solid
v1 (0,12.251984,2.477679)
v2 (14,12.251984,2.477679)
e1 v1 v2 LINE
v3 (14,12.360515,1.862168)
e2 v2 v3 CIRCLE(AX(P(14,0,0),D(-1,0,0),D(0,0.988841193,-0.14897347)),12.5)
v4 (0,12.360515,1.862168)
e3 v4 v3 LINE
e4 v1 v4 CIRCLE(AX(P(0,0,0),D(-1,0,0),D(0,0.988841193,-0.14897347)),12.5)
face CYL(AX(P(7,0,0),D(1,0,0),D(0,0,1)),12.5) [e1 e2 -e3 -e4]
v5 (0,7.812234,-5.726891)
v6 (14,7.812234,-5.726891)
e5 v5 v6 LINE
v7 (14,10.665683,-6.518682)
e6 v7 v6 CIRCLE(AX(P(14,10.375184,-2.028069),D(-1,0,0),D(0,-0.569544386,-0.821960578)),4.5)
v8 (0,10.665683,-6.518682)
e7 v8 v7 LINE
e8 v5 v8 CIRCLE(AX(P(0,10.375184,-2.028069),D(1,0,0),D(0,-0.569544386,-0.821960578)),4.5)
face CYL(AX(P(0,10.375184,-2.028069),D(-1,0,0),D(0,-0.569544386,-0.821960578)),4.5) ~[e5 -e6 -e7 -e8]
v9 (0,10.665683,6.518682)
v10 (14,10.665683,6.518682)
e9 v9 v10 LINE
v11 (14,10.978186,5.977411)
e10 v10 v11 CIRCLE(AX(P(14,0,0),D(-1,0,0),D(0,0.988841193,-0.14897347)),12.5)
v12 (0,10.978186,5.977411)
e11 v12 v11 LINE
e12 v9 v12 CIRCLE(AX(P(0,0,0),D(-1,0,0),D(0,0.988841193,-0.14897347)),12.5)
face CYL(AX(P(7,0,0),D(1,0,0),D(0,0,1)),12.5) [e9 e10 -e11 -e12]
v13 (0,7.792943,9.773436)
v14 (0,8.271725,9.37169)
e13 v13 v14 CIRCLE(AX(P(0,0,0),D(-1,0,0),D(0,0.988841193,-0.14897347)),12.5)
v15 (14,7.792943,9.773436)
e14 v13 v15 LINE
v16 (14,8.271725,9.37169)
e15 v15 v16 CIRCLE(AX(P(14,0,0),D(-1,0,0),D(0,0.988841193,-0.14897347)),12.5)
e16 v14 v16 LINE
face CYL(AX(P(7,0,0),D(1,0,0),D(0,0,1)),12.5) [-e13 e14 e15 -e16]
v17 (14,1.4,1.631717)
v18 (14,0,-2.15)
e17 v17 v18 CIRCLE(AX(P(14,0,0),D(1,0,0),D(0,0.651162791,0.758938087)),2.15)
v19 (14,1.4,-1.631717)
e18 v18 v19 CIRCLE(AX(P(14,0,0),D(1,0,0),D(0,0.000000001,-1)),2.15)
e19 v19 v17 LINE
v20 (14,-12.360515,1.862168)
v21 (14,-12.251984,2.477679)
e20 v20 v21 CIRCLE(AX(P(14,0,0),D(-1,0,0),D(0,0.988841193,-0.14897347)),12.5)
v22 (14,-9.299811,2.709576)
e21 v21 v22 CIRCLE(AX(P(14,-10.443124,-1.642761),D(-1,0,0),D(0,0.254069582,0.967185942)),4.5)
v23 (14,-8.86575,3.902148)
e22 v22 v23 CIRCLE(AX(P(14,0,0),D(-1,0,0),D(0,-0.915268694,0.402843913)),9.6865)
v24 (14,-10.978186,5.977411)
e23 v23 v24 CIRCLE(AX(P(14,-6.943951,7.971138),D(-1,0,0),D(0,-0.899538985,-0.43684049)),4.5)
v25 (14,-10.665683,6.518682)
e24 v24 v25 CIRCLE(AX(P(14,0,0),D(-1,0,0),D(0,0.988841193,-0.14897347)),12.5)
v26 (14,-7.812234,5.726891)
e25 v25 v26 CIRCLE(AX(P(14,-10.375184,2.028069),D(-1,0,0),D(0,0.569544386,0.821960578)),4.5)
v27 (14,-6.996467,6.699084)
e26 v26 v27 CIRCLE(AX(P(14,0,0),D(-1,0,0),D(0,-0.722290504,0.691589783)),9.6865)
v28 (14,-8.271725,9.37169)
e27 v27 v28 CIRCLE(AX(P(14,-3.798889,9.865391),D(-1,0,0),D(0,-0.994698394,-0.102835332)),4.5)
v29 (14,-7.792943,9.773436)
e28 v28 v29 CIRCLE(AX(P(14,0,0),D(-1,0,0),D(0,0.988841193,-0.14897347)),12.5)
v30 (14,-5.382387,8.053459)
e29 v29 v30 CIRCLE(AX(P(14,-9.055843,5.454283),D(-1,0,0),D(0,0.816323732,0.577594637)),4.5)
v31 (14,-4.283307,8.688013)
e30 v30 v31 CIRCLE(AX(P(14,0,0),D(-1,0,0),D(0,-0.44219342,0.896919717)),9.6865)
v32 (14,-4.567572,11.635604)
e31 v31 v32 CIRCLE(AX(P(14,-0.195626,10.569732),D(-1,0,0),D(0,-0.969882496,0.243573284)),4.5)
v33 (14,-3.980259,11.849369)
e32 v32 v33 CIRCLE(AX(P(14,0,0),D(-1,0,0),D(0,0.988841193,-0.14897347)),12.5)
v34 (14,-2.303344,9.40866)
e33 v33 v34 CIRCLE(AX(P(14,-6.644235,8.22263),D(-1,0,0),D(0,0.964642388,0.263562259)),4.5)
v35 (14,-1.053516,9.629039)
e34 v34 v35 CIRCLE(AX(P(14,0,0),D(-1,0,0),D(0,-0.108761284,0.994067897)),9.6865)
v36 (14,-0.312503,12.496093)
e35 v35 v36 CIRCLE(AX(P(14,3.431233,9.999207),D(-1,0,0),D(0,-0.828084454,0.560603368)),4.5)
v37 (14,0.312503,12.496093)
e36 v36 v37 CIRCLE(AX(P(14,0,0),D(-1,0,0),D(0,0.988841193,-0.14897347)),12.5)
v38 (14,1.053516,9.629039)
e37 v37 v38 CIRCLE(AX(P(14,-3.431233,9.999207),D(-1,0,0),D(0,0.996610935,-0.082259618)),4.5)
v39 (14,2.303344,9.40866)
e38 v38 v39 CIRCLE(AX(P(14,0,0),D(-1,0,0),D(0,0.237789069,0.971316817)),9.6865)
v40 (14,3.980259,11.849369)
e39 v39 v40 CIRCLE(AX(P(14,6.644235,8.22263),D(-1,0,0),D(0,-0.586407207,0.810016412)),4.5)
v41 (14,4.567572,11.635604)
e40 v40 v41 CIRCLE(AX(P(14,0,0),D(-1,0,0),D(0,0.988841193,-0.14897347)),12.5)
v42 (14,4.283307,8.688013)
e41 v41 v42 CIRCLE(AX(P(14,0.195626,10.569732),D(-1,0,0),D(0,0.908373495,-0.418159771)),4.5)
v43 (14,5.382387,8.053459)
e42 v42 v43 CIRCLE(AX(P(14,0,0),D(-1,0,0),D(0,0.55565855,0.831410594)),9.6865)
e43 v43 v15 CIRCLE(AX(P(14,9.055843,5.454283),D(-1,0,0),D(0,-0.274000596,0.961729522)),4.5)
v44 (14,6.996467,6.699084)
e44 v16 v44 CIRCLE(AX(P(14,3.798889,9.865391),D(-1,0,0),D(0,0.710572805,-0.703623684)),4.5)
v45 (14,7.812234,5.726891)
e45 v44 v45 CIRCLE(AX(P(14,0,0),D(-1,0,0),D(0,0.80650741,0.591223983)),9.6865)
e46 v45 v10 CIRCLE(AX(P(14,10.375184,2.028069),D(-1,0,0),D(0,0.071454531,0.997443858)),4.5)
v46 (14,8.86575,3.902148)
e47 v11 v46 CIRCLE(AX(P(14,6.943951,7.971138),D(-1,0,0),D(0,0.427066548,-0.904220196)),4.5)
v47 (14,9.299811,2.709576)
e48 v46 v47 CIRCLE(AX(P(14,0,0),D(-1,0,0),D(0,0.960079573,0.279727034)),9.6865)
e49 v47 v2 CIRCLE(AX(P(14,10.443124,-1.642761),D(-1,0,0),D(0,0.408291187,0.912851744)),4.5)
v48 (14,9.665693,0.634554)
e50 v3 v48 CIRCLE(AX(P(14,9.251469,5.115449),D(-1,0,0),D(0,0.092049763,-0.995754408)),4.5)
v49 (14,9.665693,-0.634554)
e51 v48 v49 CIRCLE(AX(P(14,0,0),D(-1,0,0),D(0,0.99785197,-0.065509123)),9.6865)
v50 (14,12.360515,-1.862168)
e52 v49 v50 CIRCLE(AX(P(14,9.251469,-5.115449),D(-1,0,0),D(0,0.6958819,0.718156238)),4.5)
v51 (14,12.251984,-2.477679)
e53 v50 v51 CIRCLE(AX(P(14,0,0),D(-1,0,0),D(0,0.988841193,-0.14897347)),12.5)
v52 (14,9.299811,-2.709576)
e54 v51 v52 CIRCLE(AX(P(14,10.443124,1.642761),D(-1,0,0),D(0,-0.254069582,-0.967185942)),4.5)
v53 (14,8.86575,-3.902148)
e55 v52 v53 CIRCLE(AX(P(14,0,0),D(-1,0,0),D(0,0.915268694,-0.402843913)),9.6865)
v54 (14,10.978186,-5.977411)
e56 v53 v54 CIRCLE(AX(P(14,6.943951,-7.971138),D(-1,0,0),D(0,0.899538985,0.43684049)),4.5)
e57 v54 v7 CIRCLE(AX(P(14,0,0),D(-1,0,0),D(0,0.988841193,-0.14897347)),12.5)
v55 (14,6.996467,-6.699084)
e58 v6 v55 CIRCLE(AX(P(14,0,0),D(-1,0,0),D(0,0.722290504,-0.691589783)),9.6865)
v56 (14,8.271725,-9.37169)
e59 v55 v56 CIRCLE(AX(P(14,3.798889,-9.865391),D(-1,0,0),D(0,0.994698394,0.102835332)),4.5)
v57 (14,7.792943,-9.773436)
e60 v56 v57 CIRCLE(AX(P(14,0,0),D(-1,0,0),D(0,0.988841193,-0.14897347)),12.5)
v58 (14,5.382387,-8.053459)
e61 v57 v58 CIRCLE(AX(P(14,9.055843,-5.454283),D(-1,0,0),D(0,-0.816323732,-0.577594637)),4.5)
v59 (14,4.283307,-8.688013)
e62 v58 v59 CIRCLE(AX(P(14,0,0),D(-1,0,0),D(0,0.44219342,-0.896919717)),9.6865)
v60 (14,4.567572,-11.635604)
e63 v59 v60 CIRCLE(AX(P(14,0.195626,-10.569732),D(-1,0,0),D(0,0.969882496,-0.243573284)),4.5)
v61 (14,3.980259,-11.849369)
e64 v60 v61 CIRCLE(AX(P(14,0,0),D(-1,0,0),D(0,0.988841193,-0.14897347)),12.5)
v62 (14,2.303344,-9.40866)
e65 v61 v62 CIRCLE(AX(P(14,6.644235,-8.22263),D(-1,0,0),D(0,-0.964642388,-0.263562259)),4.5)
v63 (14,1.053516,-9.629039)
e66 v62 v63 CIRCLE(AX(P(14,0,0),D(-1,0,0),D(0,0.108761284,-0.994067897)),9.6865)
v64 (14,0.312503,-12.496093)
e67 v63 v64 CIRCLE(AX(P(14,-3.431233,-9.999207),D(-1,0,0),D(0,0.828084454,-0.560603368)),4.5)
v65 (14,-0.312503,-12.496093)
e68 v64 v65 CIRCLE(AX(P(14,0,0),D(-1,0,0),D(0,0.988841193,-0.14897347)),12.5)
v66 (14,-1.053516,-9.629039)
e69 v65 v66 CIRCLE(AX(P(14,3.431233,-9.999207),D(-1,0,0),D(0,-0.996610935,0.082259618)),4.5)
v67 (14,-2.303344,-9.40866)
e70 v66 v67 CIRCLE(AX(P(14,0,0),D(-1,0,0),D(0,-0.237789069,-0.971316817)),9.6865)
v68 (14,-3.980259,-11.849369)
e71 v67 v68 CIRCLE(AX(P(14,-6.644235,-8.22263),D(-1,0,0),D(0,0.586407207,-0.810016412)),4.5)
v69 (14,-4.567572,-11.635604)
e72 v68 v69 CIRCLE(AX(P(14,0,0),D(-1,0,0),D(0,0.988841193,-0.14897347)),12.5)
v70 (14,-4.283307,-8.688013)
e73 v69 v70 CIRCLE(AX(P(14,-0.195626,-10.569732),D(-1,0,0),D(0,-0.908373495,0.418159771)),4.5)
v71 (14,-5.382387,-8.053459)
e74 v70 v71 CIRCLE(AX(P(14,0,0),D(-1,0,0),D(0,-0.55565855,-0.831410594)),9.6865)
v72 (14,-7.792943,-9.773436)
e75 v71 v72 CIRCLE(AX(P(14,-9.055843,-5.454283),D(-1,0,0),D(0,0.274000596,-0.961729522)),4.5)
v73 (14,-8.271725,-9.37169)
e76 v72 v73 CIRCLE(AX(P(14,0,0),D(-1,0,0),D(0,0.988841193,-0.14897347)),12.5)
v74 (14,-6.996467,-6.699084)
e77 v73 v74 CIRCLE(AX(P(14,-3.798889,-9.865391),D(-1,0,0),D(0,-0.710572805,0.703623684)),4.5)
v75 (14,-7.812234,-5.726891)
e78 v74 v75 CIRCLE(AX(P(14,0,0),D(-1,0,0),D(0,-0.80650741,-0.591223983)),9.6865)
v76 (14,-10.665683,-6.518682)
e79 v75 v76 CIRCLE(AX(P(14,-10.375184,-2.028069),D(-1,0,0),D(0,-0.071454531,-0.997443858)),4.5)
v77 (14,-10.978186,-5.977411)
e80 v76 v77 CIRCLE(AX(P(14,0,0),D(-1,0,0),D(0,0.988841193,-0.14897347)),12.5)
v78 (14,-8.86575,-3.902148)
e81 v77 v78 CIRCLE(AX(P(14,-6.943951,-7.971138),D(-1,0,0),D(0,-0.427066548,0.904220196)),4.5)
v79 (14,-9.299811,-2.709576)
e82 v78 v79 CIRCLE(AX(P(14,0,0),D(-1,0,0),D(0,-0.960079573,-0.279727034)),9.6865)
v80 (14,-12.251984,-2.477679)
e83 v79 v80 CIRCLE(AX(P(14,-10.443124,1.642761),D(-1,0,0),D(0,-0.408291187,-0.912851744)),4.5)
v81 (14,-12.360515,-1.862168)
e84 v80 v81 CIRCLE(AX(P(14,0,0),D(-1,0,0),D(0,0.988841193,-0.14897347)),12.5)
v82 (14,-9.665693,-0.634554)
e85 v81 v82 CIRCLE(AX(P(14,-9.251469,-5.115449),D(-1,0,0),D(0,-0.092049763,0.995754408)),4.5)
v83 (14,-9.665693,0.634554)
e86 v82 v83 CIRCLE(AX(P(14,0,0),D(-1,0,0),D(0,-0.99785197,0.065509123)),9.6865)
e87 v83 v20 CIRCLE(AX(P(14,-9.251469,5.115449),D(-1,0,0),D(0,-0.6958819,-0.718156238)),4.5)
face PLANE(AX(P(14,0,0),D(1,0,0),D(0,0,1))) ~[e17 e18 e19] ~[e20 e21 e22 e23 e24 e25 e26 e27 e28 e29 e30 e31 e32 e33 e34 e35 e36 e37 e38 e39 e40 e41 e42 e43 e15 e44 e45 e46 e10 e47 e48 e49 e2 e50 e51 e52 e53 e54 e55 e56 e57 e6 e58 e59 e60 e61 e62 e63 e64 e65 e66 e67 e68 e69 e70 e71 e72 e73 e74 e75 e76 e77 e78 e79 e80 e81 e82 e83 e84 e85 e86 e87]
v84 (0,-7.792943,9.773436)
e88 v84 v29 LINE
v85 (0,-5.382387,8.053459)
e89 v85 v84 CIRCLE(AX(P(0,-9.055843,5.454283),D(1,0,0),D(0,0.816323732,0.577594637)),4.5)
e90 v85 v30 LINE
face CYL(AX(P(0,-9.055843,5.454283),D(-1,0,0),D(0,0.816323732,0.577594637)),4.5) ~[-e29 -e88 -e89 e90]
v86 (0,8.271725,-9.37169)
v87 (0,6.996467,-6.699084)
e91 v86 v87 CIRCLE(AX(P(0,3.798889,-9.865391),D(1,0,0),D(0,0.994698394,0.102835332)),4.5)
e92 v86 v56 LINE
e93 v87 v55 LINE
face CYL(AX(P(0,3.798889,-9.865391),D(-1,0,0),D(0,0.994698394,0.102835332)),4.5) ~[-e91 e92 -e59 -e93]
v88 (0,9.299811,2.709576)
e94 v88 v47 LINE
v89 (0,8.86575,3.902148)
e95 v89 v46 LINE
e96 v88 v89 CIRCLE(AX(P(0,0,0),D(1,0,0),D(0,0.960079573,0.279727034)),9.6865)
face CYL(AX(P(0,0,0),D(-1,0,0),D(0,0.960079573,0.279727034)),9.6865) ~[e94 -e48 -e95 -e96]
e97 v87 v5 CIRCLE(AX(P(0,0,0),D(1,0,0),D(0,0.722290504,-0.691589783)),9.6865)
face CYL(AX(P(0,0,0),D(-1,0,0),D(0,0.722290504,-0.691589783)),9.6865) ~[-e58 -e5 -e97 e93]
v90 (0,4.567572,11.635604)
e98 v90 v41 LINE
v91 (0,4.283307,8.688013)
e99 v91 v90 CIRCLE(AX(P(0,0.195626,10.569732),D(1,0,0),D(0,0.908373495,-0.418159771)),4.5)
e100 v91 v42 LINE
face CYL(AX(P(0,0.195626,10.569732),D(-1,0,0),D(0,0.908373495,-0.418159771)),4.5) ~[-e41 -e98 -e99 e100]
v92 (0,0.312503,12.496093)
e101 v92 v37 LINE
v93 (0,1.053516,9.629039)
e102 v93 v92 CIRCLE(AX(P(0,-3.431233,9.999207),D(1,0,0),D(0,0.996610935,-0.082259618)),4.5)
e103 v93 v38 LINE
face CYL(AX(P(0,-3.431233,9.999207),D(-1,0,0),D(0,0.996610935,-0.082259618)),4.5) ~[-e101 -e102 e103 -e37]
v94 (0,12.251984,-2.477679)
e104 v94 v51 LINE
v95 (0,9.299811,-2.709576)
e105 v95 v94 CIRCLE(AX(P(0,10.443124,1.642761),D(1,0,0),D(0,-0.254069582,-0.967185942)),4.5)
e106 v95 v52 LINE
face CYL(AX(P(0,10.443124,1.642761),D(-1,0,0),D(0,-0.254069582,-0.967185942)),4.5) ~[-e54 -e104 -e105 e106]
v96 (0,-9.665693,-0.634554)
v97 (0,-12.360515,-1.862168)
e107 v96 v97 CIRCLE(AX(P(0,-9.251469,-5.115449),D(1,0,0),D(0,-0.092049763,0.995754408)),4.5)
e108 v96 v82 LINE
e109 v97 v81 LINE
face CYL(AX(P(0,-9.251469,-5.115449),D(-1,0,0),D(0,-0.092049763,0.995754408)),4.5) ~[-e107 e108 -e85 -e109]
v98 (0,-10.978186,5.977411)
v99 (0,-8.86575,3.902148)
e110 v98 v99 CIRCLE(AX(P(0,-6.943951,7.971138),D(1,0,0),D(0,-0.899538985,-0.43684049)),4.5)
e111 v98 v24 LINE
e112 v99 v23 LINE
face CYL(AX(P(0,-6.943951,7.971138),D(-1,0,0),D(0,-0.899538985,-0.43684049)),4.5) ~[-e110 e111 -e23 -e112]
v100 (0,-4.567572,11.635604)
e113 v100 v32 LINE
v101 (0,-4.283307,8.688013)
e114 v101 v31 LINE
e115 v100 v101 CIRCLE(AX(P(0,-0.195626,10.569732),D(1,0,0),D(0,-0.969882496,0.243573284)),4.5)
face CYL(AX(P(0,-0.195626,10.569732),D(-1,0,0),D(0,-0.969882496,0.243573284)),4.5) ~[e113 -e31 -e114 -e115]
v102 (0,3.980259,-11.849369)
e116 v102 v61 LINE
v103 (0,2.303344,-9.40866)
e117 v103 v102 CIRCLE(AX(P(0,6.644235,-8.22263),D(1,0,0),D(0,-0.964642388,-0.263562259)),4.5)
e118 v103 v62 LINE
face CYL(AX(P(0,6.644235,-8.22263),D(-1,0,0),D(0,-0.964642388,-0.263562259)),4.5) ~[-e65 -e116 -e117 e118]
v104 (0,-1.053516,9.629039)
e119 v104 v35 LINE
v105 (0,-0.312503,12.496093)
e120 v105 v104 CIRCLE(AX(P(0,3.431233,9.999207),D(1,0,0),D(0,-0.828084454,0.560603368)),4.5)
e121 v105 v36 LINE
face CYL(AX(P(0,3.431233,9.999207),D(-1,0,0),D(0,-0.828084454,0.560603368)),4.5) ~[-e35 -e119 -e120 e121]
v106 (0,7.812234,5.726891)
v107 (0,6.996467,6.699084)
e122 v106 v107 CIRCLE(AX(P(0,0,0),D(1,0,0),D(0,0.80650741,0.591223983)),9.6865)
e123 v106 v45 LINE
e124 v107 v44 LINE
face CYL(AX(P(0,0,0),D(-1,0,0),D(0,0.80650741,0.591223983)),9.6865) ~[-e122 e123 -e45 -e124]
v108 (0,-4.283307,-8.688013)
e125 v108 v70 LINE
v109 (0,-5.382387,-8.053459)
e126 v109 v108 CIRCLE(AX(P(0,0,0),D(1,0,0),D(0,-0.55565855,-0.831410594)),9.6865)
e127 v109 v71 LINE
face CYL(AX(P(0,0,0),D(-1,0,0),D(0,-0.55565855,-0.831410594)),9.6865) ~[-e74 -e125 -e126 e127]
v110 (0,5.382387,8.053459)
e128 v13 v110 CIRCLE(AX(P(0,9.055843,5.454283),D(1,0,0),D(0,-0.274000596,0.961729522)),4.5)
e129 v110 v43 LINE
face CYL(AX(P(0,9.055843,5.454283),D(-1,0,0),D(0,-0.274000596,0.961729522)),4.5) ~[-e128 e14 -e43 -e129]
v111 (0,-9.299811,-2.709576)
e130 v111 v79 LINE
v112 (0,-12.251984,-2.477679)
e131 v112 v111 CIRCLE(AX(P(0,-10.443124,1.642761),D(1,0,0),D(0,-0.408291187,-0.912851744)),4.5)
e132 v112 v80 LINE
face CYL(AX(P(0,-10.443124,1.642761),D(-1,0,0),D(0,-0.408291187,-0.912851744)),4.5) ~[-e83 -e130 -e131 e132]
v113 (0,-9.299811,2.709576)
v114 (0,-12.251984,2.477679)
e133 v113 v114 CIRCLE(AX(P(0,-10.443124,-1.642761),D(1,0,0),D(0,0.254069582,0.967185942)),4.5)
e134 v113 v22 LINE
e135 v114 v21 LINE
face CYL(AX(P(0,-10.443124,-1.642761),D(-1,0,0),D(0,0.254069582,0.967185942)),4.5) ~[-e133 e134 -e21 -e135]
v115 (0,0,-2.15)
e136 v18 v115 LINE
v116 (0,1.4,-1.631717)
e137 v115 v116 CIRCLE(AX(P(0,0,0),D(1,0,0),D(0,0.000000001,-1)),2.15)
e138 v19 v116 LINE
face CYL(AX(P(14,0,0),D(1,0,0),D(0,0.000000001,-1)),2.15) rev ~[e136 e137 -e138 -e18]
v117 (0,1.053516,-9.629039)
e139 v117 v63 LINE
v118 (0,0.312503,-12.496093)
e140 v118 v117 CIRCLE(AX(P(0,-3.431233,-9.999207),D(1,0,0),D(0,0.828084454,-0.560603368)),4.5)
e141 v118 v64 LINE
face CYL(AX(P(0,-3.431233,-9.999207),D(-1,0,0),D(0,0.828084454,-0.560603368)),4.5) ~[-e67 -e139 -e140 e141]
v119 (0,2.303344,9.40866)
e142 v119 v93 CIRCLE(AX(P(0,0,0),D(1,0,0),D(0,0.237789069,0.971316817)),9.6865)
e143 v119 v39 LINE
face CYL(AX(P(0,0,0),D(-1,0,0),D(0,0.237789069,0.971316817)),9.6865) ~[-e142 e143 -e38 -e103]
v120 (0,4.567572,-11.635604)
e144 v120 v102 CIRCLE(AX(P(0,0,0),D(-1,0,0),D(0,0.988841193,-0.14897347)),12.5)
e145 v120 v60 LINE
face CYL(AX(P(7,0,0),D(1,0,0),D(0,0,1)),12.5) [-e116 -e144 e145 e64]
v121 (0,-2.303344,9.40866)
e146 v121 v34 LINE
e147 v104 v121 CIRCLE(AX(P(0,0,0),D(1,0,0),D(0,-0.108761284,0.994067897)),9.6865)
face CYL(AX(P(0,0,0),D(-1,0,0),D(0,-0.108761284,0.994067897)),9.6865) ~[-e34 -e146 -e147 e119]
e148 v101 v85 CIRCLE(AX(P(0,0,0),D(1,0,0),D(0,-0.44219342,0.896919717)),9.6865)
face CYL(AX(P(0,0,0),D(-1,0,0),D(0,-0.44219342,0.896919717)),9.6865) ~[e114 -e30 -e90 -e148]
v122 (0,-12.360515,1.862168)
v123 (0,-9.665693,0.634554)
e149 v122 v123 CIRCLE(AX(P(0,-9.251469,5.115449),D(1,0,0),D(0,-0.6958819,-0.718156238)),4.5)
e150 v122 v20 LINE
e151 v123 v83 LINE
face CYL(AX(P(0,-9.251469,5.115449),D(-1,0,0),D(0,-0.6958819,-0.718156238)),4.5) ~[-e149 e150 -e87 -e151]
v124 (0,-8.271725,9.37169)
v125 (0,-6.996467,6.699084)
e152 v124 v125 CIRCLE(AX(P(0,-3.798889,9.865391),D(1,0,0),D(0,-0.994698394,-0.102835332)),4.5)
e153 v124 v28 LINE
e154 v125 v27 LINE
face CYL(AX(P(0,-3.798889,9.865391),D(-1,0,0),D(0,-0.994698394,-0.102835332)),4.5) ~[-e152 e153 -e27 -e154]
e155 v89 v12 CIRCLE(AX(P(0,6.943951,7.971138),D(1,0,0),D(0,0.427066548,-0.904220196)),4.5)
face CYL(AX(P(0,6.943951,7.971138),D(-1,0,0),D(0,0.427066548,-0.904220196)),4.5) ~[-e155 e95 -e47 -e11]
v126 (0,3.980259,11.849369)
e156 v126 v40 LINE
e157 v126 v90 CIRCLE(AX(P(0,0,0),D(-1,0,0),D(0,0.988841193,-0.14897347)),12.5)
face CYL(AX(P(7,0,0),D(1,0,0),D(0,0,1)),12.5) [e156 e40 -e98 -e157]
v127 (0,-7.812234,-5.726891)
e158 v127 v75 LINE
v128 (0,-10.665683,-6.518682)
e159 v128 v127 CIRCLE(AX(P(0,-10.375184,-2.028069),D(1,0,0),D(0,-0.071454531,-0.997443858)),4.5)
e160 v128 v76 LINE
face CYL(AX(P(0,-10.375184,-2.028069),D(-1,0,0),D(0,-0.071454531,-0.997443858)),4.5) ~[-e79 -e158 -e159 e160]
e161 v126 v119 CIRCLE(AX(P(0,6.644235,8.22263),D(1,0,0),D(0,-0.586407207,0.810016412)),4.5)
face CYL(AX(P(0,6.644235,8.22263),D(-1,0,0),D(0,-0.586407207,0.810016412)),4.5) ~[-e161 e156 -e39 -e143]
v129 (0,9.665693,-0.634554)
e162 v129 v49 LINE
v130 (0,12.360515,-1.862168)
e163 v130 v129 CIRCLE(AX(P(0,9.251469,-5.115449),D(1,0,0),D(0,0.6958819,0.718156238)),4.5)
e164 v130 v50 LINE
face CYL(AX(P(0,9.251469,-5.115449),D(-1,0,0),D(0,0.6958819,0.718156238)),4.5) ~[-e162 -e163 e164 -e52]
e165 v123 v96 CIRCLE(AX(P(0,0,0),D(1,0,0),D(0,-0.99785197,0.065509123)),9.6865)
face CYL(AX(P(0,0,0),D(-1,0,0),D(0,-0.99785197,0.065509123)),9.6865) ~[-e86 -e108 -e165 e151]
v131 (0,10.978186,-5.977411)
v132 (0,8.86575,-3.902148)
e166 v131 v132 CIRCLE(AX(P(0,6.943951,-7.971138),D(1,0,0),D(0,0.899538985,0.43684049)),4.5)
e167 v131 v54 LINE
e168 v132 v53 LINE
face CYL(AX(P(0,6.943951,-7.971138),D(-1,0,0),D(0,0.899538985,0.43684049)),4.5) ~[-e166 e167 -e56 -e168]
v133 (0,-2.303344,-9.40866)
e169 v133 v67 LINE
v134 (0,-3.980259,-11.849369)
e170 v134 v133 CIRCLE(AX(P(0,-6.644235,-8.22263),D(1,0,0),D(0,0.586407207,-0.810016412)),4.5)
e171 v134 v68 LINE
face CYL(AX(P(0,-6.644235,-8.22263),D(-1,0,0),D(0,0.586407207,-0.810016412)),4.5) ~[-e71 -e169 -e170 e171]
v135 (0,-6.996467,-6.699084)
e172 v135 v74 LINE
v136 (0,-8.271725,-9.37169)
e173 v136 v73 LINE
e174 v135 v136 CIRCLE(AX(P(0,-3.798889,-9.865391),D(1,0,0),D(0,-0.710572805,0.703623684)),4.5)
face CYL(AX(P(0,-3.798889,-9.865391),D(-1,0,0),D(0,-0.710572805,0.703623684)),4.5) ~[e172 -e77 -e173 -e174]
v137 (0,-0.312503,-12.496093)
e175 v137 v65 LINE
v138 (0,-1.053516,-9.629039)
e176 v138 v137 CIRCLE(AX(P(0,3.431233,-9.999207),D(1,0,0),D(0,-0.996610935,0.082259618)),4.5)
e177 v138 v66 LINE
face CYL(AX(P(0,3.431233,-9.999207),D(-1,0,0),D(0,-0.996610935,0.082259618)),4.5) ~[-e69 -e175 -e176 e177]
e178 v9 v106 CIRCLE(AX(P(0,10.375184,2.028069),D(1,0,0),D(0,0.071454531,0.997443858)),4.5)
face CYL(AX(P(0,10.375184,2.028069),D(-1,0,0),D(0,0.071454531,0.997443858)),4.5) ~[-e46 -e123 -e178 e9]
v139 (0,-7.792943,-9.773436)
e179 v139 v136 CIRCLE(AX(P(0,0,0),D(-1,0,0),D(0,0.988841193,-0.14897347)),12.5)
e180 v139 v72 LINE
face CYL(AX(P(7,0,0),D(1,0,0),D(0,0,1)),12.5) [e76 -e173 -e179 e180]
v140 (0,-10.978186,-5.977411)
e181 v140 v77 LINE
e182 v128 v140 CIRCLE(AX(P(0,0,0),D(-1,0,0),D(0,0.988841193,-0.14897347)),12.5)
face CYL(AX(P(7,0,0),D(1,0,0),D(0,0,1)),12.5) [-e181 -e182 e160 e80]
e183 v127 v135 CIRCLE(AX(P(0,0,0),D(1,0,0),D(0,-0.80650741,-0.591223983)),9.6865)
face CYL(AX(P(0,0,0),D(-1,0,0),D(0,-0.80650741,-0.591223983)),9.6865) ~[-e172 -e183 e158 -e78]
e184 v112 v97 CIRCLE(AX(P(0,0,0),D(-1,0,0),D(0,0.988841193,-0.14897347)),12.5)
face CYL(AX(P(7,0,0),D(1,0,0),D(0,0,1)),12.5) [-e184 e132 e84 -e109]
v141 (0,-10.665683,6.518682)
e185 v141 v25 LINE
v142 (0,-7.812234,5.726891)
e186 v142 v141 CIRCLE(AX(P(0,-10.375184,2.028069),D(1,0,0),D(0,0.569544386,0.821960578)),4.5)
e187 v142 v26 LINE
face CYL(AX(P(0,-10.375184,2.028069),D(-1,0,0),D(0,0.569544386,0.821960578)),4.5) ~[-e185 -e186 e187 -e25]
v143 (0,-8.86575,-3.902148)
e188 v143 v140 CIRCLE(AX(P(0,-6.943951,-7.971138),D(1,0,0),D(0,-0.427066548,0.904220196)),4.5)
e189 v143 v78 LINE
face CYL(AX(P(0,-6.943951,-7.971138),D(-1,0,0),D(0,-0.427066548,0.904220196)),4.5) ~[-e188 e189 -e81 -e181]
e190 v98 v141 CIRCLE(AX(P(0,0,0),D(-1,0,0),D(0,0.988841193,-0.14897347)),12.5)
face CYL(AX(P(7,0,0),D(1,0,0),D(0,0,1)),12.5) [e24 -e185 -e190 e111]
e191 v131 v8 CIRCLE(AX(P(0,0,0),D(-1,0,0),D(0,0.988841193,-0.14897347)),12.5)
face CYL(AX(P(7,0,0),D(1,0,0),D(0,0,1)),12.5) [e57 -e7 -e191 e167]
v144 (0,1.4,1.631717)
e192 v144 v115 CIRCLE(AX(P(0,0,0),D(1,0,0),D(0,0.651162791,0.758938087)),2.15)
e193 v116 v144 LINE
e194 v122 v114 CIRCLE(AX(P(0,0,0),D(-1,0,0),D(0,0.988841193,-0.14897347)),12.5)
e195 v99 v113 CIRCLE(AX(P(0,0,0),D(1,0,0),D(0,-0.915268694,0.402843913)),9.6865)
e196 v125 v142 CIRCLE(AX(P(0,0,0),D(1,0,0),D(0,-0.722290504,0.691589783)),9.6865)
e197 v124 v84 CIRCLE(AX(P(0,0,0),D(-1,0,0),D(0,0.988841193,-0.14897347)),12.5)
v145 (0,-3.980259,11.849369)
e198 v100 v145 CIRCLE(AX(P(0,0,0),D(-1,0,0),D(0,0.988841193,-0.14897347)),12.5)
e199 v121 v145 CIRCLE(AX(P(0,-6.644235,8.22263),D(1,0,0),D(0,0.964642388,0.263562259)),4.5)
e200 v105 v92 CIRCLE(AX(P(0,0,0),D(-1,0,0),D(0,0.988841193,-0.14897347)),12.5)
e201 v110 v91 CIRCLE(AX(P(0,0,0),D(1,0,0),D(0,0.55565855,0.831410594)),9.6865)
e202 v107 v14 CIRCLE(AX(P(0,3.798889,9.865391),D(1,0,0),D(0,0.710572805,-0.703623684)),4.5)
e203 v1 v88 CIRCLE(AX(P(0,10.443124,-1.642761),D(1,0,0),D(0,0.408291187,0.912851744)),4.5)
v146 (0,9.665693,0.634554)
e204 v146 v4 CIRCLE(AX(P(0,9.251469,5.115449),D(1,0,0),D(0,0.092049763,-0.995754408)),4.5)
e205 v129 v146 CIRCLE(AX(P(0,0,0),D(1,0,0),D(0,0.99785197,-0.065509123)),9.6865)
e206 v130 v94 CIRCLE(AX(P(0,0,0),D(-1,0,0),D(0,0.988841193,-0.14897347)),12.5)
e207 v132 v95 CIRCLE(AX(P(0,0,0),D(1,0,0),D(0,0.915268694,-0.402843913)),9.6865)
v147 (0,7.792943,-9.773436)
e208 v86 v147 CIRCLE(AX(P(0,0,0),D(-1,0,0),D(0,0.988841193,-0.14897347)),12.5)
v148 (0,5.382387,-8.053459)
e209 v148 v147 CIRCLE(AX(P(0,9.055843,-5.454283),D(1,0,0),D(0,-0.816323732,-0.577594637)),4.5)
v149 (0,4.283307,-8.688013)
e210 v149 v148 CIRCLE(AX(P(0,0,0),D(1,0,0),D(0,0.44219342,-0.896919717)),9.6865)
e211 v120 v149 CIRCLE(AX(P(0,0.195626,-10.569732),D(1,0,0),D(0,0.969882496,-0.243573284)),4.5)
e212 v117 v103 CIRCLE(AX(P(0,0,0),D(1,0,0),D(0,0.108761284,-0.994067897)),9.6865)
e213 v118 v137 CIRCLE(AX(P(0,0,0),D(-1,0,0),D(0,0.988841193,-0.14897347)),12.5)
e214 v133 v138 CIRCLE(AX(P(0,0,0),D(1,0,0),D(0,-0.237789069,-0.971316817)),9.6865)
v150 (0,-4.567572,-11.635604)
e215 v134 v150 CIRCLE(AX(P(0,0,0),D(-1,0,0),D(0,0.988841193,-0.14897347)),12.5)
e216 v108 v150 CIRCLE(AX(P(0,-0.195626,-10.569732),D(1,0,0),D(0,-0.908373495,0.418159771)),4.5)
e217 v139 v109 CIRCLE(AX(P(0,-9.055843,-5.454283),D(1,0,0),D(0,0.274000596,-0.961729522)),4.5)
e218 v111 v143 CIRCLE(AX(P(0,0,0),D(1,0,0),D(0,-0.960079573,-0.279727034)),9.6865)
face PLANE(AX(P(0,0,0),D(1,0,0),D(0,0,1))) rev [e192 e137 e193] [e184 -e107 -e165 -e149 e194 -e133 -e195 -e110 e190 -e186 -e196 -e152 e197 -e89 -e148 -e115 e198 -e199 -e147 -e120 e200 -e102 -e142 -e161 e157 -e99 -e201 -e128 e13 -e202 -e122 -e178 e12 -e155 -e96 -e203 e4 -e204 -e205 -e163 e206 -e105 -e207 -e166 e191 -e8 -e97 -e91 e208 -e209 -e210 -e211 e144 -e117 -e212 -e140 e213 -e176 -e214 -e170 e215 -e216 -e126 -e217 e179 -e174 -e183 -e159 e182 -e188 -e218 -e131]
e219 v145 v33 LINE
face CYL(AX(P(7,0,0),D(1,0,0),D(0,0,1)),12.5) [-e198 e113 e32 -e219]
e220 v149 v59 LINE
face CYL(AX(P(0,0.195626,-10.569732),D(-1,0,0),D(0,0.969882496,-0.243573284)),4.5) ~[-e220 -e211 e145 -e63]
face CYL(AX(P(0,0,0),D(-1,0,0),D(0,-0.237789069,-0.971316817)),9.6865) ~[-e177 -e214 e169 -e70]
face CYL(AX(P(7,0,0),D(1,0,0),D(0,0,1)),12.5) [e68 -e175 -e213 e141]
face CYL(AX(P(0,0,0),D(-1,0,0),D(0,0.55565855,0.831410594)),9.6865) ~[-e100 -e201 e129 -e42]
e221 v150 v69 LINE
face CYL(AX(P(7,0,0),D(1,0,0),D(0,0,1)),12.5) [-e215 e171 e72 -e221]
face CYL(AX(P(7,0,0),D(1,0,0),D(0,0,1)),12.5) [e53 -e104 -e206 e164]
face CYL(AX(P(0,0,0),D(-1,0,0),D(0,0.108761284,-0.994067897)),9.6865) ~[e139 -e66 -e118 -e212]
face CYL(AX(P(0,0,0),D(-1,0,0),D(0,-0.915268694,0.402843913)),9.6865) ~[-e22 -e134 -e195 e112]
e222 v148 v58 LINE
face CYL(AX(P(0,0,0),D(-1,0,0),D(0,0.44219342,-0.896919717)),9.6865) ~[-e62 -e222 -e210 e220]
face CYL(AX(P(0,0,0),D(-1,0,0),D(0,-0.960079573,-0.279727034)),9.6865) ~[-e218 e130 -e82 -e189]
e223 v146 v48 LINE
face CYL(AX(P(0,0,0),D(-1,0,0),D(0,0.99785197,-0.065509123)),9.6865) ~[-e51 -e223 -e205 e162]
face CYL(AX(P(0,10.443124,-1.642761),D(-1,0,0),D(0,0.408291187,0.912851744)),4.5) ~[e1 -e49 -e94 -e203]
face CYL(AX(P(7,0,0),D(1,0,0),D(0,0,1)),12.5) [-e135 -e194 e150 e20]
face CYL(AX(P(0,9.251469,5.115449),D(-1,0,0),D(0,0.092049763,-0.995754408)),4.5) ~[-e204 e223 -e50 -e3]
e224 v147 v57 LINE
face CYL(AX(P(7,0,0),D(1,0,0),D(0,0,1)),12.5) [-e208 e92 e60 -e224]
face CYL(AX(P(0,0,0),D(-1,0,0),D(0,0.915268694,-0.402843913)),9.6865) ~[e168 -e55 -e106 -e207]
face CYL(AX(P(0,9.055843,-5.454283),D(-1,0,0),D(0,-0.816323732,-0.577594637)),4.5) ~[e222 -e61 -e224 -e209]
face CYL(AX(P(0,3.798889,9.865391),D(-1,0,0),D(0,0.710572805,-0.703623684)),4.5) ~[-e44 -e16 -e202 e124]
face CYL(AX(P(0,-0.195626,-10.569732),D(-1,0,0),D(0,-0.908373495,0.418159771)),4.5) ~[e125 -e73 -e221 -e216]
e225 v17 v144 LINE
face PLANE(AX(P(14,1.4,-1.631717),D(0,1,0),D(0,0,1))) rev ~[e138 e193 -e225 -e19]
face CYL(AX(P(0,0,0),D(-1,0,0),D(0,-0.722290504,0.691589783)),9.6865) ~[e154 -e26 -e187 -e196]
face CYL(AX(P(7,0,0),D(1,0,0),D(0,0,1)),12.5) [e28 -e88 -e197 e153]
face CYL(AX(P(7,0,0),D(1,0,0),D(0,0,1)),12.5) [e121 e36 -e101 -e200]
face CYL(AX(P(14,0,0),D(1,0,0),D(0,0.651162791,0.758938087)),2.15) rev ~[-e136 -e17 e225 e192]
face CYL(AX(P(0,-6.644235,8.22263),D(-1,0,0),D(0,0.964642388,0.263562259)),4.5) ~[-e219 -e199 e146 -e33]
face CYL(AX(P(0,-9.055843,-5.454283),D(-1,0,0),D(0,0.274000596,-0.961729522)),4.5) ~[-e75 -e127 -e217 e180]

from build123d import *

# Parameters (mm, degrees)
BASPROSKE_W           = 14
BASPROSKE_H           = 12.5
TOOTHCUT_DEPTH        = 23.549944568
TEETHCUTS_COUNT       = 18
BORSKE_R              = 0.4
BORE_DEPTH            = 50.0000508
CORTAR_EXTRUIR1_REACH = 24.473


with BuildPart() as part:
    # BasProSke → Base-Revolve (revolve)
    with BuildSketch(Plane(origin=(0, 0, 0), x_dir=(1, 0, 0), z_dir=(0, 1, 0)), mode=Mode.PRIVATE) as base_revolve_sk:
        with Locations((7, 6.25)):
            Rectangle(BASPROSKE_W, BASPROSKE_H)
    revolve(base_revolve_sk.sketch.rotate(Axis((-10, 0, 0), (1, 0, 0)), 180), axis=Axis((-10, 0, 0), (1, 0, 0)))

    # TooCutSke → ToothCut (cut, through all)
    with BuildSketch(Plane(origin=(0, 0, 0), x_dir=(0, 0, -1), z_dir=(1, 0, 0))):
        with BuildLine():
            ThreePointArc((0.634554124, 9.665693111), (0, 9.6865), (-0.634554124, 9.665693111))
            ThreePointArc((-0.634554124, 9.665693111), (-1.026818848, 11.131124412), (-1.883745888, 12.38293772))
            ThreePointArc((-1.883745888, 12.38293772), (0, 12.5254), (1.883745888, 12.38293772))
            ThreePointArc((1.883745888, 12.38293772), (1.026818848, 11.131124412), (0.634554124, 9.665693111))
        make_face()
    toothcut = extrude(amount=TOOTHCUT_DEPTH, mode=Mode.SUBTRACT)

    # TeethCuts: ToothCut ×18 about axis
    teethcuts_axis = Axis((0, 0, 0), (1, 0, 0))
    for i in range(1, TEETHCUTS_COUNT):
        add(toothcut.rotate(teethcuts_axis, i * 360 / TEETHCUTS_COUNT), mode=Mode.SUBTRACT)

    # BorSke → Bore (cut, symmetric)
    with BuildSketch(Plane(origin=(0, 0, 0), x_dir=(0, 0, -1), z_dir=(1, 0, 0))):
        with Locations(Location((0, 0, 0), (0, 0, 180))):
            Circle(BORSKE_R)
    extrude(amount=BORE_DEPTH, both=True, mode=Mode.SUBTRACT)

    # Croquis1 → Cortar-Extruir1 (cut, up to next)
    with BuildSketch(Plane(origin=(14, 0, 0), x_dir=(0, 0, -1), z_dir=(1, 0, 0)), mode=Mode.PRIVATE) as cortar_extruir1_sk1:
        with BuildLine():
            Line((1.631716887, 1.4), (-1.631716887, 1.4))
            ThreePointArc((-1.631716887, 1.4), (-0.746427723, -2.016270233), (2.15, 0))
            ThreePointArc((2.15, 0), (2.016270233, 0.746427723), (1.631716887, 1.4))
        make_face()
    cortar_extruir1_tool1 = extrude(cortar_extruir1_sk1.sketch, amount=-CORTAR_EXTRUIR1_REACH, mode=Mode.PRIVATE) & part.part
    add(cortar_extruir1_tool1.solids().sort_by_distance((14, -0.225862, 0))[0], mode=Mode.SUBTRACT)


solid = part.part
